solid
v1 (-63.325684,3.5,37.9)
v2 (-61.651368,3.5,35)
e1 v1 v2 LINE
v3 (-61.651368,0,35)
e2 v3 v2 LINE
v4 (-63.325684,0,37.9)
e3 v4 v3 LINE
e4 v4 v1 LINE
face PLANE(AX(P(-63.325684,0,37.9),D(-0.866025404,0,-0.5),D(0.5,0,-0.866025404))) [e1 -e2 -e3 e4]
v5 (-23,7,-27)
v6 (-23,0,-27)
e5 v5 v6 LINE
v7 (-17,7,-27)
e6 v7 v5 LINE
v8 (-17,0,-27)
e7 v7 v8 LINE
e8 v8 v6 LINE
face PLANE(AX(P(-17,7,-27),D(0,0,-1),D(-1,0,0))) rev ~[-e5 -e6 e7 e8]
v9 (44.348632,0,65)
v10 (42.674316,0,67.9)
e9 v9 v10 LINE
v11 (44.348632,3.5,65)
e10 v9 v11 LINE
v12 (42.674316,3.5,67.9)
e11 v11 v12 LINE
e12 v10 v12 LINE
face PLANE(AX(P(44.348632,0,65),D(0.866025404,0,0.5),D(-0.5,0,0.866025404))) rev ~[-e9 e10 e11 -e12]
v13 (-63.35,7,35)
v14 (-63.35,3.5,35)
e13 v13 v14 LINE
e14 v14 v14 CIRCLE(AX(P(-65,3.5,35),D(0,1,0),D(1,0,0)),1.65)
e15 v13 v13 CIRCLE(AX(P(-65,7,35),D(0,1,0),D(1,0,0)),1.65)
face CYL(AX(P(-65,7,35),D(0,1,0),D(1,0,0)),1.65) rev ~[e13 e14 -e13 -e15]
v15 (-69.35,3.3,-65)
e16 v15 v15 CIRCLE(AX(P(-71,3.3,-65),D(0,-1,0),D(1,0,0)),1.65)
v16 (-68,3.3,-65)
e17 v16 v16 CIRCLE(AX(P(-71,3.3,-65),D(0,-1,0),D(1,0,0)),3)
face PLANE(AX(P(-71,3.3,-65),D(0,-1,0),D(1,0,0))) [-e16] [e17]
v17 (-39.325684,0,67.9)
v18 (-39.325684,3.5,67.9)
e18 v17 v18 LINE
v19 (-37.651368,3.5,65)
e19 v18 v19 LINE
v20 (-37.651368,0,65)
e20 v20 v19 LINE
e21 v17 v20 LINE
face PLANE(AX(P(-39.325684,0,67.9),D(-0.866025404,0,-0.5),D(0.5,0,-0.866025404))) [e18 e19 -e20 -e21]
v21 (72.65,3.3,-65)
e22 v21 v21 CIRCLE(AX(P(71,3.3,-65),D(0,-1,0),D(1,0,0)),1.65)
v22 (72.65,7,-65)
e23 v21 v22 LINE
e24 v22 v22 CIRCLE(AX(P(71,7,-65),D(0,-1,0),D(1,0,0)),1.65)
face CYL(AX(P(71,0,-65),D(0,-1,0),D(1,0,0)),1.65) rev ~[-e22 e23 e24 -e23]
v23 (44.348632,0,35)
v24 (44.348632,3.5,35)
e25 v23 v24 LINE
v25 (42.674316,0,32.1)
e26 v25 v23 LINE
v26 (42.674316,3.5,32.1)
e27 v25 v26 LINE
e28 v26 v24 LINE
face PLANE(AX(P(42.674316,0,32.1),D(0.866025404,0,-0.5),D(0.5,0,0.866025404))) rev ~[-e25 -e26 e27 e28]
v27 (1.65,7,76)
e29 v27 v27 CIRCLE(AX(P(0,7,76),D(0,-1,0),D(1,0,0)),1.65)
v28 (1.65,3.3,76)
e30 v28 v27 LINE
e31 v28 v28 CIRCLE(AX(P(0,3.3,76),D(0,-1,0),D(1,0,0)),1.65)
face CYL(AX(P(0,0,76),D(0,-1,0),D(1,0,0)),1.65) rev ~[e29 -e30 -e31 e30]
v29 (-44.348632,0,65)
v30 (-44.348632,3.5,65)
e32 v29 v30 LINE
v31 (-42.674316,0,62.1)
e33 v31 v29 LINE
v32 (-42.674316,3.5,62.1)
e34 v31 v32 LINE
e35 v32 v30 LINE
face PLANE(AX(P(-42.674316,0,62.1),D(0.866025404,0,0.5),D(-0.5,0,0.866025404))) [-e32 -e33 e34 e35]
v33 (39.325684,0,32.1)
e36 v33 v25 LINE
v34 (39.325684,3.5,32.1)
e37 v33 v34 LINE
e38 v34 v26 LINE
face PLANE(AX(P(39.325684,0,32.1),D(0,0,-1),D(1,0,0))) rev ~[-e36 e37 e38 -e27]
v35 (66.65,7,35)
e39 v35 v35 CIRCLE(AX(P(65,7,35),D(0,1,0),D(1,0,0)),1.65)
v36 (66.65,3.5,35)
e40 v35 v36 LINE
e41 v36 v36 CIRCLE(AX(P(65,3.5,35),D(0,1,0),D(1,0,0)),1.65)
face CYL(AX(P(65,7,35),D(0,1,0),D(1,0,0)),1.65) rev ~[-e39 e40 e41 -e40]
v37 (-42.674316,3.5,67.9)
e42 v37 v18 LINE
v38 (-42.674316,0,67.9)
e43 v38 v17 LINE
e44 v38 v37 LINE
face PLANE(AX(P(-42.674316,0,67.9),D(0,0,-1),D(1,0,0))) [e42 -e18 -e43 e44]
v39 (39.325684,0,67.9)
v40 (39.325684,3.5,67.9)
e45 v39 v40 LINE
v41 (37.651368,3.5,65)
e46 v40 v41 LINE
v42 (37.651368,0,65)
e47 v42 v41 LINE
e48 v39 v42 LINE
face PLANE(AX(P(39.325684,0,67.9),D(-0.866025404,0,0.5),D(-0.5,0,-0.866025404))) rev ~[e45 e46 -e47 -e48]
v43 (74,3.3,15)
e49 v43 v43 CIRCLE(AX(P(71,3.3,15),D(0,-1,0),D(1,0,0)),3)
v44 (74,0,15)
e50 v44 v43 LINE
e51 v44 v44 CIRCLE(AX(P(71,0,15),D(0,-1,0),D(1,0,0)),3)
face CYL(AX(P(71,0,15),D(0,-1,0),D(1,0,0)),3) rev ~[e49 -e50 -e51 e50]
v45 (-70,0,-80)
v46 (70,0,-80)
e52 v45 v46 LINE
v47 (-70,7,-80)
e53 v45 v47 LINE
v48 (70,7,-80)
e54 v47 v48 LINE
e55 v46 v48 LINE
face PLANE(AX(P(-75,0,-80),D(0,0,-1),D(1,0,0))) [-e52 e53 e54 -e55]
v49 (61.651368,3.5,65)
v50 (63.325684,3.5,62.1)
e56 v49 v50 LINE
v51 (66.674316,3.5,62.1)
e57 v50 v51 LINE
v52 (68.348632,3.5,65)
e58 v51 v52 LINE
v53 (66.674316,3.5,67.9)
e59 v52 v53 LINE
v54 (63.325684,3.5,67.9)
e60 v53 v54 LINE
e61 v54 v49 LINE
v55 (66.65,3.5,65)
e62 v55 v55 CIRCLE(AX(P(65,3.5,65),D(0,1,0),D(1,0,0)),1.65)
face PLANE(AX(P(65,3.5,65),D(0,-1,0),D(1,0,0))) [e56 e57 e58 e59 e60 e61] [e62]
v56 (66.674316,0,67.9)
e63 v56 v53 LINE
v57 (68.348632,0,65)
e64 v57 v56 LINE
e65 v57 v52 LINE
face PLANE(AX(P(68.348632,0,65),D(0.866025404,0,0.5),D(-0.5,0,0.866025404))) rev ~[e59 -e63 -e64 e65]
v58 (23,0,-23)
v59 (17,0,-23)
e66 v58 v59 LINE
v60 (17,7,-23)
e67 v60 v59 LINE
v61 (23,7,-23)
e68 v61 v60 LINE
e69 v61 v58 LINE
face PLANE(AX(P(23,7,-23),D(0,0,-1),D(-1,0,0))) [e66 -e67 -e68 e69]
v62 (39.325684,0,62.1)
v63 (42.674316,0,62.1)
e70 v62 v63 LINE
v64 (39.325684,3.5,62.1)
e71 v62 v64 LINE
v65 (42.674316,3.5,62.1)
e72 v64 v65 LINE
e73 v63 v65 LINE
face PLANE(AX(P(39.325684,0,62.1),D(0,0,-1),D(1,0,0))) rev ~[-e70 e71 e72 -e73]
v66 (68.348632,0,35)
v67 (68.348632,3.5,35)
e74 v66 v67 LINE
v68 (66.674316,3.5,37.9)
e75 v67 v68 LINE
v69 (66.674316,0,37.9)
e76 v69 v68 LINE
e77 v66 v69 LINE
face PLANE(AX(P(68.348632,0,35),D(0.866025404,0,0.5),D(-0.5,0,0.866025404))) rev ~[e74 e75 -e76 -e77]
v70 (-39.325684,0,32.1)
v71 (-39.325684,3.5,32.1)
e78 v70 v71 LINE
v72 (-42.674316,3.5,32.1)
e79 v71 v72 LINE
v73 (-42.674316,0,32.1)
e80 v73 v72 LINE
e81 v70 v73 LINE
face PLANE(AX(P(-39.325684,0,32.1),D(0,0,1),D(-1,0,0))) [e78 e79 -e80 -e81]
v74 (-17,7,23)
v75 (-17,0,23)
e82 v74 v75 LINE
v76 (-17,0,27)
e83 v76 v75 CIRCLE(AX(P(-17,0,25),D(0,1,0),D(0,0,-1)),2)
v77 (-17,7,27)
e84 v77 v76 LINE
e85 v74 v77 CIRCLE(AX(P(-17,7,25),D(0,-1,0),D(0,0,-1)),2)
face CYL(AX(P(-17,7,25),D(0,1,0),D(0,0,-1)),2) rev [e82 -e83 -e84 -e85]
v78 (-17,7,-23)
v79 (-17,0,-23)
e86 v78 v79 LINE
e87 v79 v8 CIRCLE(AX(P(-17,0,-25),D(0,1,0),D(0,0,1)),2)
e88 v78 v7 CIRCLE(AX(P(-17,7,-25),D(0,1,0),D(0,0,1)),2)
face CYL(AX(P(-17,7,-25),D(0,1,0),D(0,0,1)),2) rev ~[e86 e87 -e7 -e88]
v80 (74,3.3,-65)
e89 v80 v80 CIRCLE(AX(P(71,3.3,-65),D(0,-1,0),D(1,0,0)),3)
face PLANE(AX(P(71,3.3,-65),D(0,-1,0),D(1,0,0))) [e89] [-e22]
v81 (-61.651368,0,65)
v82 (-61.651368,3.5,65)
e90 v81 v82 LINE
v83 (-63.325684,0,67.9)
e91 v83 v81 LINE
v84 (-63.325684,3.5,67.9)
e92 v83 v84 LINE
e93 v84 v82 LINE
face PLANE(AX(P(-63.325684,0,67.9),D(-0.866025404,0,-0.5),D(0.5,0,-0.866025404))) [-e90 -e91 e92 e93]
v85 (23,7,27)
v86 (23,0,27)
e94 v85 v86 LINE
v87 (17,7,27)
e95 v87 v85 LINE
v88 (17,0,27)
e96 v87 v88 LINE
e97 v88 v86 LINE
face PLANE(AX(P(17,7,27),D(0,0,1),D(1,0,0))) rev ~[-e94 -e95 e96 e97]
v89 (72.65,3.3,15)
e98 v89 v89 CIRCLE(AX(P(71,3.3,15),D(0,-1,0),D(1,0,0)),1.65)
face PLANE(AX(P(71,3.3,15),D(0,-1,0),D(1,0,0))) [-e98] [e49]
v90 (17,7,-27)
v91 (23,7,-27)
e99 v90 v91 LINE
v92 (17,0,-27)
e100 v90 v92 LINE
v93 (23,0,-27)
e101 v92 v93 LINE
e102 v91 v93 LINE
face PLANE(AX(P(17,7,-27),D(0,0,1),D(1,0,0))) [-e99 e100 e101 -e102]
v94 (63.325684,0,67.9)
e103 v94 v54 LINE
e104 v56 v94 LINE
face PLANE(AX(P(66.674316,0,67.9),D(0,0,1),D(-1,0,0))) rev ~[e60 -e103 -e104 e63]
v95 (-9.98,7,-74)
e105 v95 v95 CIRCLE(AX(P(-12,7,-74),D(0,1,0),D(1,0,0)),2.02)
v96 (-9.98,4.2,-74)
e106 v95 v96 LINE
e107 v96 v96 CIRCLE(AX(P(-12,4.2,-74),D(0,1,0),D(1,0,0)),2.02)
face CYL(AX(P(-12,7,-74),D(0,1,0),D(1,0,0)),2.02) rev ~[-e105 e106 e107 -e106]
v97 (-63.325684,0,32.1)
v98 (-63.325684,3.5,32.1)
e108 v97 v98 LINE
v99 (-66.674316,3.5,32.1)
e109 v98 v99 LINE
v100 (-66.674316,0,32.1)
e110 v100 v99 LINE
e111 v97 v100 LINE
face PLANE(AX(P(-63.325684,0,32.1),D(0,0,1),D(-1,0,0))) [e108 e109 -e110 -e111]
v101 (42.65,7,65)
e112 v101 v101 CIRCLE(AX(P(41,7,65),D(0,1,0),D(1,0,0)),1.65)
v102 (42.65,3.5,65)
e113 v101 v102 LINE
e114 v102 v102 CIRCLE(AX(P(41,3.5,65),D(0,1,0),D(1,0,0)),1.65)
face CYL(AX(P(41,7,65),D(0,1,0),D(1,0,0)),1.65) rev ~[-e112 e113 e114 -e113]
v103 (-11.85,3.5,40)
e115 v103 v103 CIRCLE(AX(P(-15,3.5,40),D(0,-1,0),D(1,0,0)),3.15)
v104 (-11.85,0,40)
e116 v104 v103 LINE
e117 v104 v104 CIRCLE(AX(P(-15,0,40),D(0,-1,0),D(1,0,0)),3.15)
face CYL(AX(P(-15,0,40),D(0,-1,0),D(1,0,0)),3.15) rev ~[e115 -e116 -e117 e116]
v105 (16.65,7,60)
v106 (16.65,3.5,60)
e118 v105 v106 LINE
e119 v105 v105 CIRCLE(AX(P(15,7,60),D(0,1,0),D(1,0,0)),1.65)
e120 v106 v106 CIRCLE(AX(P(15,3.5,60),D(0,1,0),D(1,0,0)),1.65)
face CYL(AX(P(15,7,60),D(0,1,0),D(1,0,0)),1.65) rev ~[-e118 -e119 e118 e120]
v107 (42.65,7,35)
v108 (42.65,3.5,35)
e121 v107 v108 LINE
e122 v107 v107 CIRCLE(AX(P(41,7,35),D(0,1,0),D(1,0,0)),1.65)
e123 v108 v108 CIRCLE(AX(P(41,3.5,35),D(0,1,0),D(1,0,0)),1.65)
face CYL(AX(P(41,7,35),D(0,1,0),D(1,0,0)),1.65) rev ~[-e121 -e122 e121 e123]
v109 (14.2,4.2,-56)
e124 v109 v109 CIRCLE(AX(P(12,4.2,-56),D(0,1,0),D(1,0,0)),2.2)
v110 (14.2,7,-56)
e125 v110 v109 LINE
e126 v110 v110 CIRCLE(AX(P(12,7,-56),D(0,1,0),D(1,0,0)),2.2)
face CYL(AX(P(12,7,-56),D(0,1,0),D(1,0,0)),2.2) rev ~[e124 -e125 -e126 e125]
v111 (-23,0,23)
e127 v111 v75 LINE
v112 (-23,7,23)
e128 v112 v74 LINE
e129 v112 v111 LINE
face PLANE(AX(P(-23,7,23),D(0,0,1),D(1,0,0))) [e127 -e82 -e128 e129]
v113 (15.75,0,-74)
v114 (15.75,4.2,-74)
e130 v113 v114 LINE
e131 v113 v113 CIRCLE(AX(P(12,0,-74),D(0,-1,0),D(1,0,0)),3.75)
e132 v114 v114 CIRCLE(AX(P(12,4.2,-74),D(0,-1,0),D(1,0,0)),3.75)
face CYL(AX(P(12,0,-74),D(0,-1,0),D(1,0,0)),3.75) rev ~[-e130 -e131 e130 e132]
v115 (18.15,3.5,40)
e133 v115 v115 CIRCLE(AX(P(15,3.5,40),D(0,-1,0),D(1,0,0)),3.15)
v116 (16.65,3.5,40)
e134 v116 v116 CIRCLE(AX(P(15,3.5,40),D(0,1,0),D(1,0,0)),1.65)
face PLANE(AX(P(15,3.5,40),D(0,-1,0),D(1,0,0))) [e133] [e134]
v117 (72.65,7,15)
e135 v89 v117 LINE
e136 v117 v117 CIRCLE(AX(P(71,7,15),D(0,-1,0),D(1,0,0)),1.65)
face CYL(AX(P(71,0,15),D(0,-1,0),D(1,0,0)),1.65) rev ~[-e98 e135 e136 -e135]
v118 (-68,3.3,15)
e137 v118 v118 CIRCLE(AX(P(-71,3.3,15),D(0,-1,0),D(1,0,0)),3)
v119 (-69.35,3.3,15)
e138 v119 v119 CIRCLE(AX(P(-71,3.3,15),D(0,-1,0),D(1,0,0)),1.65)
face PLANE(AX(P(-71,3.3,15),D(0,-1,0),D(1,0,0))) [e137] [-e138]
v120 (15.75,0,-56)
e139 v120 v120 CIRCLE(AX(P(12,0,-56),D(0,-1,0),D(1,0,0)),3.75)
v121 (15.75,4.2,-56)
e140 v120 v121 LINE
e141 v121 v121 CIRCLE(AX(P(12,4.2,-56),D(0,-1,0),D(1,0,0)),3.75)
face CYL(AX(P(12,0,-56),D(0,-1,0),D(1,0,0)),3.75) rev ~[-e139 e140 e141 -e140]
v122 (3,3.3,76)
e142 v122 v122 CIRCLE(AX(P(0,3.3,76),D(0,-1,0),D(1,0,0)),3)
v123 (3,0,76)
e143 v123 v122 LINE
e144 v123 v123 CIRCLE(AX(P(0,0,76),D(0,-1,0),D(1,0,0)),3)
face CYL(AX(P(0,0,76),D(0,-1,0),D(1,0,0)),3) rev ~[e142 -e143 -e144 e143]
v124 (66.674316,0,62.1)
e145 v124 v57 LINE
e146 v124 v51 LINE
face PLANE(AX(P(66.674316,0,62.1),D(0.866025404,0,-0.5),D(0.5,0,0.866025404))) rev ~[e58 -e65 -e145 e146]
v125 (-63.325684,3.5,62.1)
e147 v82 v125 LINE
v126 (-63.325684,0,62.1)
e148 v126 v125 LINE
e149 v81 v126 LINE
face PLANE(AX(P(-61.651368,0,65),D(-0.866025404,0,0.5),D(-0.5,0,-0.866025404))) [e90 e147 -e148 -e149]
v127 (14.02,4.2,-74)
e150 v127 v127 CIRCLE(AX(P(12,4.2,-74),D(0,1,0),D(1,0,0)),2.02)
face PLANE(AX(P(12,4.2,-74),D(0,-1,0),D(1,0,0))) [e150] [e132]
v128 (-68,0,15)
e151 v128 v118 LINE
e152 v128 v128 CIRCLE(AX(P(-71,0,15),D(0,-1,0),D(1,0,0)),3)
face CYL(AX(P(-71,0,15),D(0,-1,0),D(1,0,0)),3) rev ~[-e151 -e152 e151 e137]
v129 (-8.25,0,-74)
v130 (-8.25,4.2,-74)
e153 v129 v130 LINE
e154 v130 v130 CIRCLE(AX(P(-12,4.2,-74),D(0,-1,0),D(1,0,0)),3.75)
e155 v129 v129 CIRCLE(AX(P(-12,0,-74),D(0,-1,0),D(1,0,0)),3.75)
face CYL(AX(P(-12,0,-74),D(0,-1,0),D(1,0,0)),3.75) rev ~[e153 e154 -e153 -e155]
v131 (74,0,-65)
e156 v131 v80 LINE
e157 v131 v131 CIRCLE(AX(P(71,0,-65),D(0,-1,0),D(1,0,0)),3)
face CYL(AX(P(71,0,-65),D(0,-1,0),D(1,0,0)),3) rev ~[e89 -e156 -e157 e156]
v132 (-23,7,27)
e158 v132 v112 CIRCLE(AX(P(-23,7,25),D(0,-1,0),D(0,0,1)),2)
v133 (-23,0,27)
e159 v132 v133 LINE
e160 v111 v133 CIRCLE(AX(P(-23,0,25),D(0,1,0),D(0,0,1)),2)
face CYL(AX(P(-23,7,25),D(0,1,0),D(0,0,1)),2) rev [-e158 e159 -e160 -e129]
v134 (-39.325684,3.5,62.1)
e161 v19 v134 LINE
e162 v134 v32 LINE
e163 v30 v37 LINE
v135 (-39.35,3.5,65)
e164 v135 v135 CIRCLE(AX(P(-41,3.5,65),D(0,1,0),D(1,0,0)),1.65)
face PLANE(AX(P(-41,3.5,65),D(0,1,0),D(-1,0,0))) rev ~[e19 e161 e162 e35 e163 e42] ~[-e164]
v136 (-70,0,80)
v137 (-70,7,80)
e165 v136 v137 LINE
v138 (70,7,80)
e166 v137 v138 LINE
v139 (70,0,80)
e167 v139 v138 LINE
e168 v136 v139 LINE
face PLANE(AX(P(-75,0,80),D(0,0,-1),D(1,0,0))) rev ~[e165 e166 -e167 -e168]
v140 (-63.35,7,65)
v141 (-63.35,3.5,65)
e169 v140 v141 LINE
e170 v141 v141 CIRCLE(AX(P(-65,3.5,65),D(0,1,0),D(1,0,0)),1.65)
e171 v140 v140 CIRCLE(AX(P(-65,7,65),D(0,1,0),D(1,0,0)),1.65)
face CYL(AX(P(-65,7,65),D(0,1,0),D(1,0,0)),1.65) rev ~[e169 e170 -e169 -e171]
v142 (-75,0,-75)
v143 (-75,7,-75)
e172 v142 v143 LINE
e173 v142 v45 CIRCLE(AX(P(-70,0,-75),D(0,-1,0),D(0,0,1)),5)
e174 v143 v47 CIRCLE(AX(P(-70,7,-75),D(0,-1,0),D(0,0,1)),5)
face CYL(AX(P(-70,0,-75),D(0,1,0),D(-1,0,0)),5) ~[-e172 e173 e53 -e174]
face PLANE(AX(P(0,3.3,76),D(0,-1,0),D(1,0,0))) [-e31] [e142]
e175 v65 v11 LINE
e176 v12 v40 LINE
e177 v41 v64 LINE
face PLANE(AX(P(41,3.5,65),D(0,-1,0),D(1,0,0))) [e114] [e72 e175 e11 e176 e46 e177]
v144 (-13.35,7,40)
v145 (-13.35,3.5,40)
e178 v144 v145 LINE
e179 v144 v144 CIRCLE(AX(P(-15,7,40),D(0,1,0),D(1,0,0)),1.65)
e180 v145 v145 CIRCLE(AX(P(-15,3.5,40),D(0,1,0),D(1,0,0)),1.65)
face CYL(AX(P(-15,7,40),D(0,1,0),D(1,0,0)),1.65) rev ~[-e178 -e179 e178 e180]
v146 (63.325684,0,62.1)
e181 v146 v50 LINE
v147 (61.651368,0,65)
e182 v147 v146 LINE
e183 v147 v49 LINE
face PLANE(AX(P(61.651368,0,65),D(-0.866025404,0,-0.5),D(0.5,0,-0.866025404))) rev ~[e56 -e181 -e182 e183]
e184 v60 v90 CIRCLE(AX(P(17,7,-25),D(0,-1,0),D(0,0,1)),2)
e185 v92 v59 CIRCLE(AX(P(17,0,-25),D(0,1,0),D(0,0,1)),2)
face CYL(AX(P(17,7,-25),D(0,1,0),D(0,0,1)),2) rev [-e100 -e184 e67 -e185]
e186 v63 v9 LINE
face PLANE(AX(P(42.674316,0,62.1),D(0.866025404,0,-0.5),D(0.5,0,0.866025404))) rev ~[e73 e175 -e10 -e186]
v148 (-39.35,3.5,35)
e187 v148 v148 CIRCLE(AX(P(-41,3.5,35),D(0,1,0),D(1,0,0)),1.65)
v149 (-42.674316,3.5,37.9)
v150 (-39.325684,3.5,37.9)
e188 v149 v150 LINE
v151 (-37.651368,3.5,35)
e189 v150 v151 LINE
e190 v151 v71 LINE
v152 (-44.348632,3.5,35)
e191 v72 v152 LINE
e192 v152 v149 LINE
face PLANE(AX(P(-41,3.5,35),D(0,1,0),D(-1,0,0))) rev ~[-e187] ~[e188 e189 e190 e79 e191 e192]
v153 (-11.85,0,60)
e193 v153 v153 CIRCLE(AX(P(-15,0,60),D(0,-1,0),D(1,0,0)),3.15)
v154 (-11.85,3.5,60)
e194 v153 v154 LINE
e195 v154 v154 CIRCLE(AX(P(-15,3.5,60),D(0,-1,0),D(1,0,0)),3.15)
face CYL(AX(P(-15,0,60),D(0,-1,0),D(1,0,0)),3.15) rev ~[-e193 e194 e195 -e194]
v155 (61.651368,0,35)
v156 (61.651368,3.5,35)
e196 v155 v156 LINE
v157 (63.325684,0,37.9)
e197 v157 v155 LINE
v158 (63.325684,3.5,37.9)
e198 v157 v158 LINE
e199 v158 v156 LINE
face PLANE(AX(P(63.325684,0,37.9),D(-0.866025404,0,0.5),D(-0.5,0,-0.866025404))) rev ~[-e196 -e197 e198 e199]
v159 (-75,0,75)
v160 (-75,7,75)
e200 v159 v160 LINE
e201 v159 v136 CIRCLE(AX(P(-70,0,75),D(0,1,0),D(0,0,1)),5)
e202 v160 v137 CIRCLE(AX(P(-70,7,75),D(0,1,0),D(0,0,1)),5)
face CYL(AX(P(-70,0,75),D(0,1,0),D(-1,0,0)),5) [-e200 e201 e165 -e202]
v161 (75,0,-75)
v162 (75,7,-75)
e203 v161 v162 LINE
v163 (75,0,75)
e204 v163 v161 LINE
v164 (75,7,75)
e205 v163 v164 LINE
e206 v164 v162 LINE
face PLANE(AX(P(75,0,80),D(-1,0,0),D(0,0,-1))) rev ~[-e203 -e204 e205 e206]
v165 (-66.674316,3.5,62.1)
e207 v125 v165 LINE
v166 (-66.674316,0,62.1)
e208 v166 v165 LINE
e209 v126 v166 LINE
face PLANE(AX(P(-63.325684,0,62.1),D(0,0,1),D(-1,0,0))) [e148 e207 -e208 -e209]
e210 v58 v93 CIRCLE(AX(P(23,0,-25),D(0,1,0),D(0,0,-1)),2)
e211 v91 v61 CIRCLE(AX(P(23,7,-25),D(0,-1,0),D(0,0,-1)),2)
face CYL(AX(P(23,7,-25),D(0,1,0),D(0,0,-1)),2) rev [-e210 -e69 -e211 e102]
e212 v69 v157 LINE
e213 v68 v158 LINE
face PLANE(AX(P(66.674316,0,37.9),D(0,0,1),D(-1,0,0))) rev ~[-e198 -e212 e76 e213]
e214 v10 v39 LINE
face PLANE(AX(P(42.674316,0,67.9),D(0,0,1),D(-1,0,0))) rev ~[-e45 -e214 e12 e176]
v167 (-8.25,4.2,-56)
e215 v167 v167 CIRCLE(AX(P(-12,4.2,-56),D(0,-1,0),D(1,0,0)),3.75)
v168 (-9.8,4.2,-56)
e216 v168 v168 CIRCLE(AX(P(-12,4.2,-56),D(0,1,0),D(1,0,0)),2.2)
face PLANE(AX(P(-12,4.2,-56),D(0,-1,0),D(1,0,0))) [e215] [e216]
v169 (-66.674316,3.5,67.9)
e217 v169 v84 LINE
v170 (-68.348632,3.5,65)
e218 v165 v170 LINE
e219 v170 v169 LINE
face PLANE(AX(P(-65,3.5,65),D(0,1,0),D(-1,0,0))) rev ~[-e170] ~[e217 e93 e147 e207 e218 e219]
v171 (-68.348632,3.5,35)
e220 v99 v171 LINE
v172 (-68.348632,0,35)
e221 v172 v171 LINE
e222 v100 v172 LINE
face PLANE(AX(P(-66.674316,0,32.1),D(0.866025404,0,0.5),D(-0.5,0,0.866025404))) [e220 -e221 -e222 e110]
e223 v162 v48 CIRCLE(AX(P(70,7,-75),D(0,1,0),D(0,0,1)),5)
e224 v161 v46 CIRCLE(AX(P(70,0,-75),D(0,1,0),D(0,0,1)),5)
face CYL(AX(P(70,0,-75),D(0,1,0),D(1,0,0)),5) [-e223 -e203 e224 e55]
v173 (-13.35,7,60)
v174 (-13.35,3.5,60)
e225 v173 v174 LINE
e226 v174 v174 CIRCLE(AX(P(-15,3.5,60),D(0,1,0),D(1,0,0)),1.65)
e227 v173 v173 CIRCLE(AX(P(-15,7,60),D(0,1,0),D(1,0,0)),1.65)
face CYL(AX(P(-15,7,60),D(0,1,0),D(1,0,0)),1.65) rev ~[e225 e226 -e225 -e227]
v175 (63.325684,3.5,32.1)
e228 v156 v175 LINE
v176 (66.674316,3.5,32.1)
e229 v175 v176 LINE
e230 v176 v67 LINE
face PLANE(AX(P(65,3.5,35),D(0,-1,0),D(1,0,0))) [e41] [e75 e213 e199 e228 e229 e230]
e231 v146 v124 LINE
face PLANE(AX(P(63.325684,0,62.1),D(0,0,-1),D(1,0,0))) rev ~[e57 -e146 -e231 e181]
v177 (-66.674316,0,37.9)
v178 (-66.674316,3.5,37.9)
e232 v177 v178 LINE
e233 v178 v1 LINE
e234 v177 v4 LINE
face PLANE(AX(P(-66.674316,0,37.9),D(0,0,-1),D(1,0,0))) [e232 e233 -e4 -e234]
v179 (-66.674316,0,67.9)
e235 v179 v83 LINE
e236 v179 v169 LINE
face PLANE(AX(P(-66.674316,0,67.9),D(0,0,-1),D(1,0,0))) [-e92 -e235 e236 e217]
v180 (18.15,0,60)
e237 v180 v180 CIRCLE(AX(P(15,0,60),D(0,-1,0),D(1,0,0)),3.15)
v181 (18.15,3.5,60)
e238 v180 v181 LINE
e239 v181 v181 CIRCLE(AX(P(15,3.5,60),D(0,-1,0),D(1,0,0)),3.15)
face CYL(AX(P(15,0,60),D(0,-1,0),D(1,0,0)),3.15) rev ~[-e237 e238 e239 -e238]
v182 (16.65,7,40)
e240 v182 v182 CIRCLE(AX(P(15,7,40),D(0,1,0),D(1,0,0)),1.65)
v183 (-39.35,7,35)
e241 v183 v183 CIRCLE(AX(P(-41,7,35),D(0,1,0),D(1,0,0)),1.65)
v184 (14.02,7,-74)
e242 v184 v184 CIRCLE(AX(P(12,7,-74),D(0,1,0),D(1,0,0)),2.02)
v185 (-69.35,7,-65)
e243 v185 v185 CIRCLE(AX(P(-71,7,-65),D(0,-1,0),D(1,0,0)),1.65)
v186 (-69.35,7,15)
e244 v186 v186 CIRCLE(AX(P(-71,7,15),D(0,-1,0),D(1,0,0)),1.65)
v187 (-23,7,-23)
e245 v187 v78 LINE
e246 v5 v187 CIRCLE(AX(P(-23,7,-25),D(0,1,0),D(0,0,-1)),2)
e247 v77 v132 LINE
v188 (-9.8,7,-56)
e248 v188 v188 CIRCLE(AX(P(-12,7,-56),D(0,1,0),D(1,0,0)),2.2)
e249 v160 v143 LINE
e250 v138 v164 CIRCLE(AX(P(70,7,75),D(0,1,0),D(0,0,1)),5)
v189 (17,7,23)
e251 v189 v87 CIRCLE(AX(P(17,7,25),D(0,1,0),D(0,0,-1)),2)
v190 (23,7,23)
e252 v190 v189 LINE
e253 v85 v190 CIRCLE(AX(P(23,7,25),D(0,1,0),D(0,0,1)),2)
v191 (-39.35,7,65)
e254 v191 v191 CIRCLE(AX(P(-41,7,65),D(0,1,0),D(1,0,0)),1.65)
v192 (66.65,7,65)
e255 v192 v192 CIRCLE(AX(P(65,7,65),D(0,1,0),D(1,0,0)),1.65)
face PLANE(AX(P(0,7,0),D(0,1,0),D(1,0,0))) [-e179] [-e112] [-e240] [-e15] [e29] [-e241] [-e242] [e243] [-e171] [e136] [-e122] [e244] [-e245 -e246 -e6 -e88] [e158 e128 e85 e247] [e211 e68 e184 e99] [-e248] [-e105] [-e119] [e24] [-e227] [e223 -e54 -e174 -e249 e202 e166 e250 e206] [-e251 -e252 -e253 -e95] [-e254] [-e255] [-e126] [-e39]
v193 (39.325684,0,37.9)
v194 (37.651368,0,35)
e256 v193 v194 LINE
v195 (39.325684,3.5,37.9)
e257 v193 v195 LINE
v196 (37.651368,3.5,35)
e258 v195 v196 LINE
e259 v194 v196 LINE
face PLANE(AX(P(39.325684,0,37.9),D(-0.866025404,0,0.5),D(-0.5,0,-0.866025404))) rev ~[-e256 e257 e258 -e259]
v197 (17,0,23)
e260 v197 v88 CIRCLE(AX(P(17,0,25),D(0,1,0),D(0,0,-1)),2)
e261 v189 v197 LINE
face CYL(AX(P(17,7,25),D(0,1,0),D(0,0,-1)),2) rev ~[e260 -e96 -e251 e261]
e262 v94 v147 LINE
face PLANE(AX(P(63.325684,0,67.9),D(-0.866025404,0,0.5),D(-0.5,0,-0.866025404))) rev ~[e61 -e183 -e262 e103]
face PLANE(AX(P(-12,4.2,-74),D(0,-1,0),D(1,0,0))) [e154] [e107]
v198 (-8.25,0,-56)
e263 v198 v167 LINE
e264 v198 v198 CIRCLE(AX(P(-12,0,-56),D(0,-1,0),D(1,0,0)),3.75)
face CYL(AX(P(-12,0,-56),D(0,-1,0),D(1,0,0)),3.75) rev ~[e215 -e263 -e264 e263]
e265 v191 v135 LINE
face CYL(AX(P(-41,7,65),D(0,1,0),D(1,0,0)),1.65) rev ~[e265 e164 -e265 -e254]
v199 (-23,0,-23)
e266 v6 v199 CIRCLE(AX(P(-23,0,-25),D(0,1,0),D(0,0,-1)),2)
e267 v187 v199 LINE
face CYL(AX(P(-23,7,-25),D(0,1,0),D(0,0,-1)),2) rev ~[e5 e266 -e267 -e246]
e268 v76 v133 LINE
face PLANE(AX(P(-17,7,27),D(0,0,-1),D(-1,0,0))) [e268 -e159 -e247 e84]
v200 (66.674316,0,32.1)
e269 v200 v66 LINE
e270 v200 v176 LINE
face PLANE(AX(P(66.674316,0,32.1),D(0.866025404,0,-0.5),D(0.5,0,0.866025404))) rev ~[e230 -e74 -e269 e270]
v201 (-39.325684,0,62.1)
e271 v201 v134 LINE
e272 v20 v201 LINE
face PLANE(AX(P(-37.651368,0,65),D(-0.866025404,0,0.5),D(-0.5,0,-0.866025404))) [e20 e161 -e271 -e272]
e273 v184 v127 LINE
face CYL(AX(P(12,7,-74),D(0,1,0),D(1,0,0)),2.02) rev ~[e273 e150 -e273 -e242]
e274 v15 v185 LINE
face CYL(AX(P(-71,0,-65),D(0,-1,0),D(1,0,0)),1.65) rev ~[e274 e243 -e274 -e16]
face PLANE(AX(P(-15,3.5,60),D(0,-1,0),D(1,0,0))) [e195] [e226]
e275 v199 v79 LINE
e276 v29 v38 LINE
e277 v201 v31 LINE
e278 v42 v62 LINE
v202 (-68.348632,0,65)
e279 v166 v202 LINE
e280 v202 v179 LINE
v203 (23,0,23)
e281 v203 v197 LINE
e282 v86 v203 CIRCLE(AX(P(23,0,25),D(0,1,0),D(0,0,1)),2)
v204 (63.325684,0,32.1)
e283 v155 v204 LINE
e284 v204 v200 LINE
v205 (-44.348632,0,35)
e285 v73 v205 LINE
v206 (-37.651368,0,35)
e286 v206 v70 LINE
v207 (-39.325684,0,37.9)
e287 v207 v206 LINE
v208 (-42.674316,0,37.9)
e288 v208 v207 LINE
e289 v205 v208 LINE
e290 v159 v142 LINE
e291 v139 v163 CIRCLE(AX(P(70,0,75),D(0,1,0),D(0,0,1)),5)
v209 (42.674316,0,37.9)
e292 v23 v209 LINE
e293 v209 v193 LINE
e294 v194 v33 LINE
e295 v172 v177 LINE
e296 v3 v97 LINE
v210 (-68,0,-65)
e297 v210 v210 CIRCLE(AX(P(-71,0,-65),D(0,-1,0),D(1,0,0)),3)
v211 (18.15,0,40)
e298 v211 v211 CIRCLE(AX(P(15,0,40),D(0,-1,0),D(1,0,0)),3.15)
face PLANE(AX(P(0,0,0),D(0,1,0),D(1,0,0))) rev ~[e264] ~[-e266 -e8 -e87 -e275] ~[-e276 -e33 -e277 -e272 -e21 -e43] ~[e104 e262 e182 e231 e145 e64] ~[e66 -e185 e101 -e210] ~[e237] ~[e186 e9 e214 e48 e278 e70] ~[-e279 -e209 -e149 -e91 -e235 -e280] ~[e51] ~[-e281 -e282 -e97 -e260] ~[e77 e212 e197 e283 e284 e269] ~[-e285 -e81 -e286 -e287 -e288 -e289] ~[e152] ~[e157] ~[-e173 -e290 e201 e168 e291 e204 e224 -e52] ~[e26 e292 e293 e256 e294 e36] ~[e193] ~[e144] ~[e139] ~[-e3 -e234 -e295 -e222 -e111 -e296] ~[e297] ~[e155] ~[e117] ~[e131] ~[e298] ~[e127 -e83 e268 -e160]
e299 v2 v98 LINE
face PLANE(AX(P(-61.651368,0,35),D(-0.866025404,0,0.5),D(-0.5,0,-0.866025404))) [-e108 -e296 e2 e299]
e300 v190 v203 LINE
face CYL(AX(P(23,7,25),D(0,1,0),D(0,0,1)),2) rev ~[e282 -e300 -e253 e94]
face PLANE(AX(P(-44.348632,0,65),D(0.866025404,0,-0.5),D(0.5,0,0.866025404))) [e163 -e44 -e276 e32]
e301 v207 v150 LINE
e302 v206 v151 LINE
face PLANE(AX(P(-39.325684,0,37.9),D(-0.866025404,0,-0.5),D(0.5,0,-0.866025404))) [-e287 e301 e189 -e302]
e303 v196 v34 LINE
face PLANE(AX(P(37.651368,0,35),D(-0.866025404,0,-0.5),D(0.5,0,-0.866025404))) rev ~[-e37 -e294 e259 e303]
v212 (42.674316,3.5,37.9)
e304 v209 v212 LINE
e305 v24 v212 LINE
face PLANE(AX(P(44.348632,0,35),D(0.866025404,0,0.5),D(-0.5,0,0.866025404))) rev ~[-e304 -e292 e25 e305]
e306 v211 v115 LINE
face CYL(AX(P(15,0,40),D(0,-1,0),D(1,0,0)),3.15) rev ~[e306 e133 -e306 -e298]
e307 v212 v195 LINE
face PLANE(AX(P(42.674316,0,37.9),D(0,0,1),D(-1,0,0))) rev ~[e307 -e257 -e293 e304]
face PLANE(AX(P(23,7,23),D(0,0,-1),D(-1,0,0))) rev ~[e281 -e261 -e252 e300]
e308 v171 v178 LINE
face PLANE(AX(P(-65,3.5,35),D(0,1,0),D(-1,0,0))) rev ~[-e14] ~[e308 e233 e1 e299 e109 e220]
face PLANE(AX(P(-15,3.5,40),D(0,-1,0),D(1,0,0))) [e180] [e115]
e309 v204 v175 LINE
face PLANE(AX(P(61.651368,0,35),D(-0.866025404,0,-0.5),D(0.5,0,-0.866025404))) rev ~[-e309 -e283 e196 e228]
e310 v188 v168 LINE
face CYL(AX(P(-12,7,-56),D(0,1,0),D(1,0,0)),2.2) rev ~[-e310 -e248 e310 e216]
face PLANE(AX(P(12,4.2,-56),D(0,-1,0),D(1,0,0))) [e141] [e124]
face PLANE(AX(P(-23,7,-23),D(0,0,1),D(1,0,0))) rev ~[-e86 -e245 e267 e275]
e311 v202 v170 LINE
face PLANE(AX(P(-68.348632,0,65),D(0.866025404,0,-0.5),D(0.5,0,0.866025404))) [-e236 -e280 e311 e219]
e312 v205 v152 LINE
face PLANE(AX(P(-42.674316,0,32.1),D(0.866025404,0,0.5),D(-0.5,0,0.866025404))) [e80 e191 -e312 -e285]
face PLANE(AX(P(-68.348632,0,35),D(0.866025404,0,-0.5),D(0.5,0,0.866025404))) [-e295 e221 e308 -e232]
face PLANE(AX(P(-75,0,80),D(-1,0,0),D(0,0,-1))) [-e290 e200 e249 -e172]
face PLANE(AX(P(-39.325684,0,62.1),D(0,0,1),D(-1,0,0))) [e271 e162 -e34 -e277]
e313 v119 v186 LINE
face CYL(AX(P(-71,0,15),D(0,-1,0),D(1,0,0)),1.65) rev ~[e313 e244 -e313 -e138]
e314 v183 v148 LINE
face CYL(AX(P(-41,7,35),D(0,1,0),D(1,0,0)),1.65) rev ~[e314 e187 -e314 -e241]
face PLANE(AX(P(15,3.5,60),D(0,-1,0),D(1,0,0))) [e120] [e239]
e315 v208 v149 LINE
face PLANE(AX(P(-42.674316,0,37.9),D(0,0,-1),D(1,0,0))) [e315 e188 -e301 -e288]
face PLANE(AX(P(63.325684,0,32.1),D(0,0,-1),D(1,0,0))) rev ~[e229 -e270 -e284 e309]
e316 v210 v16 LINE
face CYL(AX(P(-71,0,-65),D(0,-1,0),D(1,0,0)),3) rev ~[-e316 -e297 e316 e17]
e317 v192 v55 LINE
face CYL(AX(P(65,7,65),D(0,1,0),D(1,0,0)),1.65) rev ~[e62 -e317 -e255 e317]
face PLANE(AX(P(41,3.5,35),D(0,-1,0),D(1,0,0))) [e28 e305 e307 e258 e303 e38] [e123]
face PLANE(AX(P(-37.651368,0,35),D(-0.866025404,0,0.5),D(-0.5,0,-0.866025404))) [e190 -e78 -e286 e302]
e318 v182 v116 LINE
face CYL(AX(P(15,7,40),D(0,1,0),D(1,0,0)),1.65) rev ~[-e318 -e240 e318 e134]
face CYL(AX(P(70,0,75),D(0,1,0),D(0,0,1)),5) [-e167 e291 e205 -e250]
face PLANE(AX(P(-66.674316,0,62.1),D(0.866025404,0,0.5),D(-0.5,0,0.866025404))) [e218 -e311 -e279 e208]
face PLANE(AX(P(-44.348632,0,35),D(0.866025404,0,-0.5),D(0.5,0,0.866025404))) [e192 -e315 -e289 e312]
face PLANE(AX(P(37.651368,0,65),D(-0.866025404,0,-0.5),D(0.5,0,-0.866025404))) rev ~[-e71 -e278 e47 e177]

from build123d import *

# Parameters (mm, degrees)
SKETCH_2_W           = 150
SKETCH_2_H           = 160
EXTRUDE_1_DEPTH      = 7
FILLET_1_R           = 5
SKETCH_3_R           = 1.65
CUT_EXTRUDE_1_DEPTH  = 8
SKETCH_6_R           = 2.02
SKETCH_6_R_2         = 2.2
CUT_EXTRUDE_2_DEPTH  = 8
SKETCH_9_R           = 3.15
CUT_EXTRUDE_4_DEPTH  = 3.5
SKETCH_10_R          = 3.75
CUT_EXTRUDE_5_DEPTH  = 4.2
CUT_EXTRUDE_6_DEPTH  = 8
SKETCH_12_R          = 1.65
CUT_EXTRUDE_7_DEPTH  = 50
SKETCH_14_R          = 3
CUT_EXTRUDE_9_DEPTH  = 3.3
SKETCH_15_R          = 1.65
CUT_EXTRUDE_10_DEPTH = 8
SKETCH_16_R          = 3
CUT_EXTRUDE_11_DEPTH = 3.3


with BuildPart() as part:
    # 草图2 → 凸台-拉伸1 (new body)
    with BuildSketch(Plane(origin=(0, 0, 0), x_dir=(1, 0, 0), z_dir=(0, 1, 0))):
        Rectangle(SKETCH_2_W, SKETCH_2_H)
    extrude(amount=EXTRUDE_1_DEPTH)

    # 圆角1
    fillet_1_edges = [part.edges().sort_by_distance(p)[0] for p in [
        (75, 3.5, 80),
        (-75, 3.5, 80),
        (-75, 3.5, -80),
        (75, 3.5, -80),
    ]]
    fillet(fillet_1_edges, radius=FILLET_1_R)

    # 草图3 → 切除-拉伸1 (cut, through all)
    with BuildSketch(Plane(origin=(0, 7, 0), x_dir=(1, 0, 0), z_dir=(0, 1, 0))):
        with Locations((-65, -35)):
            Circle(SKETCH_3_R)
        with Locations((-41, -35)):
            Circle(SKETCH_3_R)
        with Locations((-41, -65)):
            Circle(SKETCH_3_R)
        with Locations((-65, -65)):
            Circle(SKETCH_3_R)
        with Locations((65, -65)):
            Circle(SKETCH_3_R)
        with Locations((41, -65)):
            Circle(SKETCH_3_R)
        with Locations((41, -35)):
            Circle(SKETCH_3_R)
        with Locations((65, -35)):
            Circle(SKETCH_3_R)
        with Locations((-15, -40)):
            Circle(SKETCH_3_R)
        with Locations((-15, -60)):
            Circle(SKETCH_3_R)
        with Locations((15, -60)):
            Circle(SKETCH_3_R)
        with Locations((15, -40)):
            Circle(SKETCH_3_R)
    extrude(amount=-CUT_EXTRUDE_1_DEPTH, mode=Mode.SUBTRACT)

    # 草图6 → 切除-拉伸2 (cut, through all)
    with BuildSketch(Plane(origin=(0, 7, 0), x_dir=(1, 0, 0), z_dir=(0, 1, 0))):
        with Locations((12, 74)):
            Circle(SKETCH_6_R)
        with Locations((12, 56)):
            Circle(SKETCH_6_R_2)
        with Locations((-12, 56)):
            Circle(SKETCH_6_R_2)
        with Locations((-12, 74)):
            Circle(SKETCH_6_R)
    extrude(amount=-CUT_EXTRUDE_2_DEPTH, mode=Mode.SUBTRACT)

    # 草图9 → 切除-拉伸4 (cut)
    with BuildSketch(Plane.XZ):
        with Locations((-15, 60)):
            Circle(SKETCH_9_R)
        with Locations((-15, 40)):
            Circle(SKETCH_9_R)
        with Locations((15, 60)):
            Circle(SKETCH_9_R)
        with Locations((15, 40)):
            Circle(SKETCH_9_R)
        Polygon((-39.325684219, 67.9), (-37.651368439, 65), (-39.325684219, 62.1), (-42.674315781, 62.1), (-44.348631561, 65), (-42.674315781, 67.9), align=None)
        Polygon((61.651368439, 35), (63.325684219, 32.1), (66.674315781, 32.1), (68.348631561, 35), (66.674315781, 37.9), (63.325684219, 37.9), align=None)
        Polygon((37.651368439, 35), (39.325684219, 32.1), (42.674315781, 32.1), (44.348631561, 35), (42.674315781, 37.9), (39.325684219, 37.9), align=None)
        Polygon((61.651368439, 65), (63.325684219, 62.1), (66.674315781, 62.1), (68.348631561, 65), (66.674315781, 67.9), (63.325684219, 67.9), align=None)
        Polygon((37.651368439, 65), (39.325684219, 62.1), (42.674315781, 62.1), (44.348631561, 65), (42.674315781, 67.9), (39.325684219, 67.9), align=None)
        Polygon((-63.325684219, 67.9), (-61.651368439, 65), (-63.325684219, 62.1), (-66.674315781, 62.1), (-68.348631561, 65), (-66.674315781, 67.9), align=None)
        Polygon((-39.325684219, 37.9), (-37.651368439, 35), (-39.325684219, 32.1), (-42.674315781, 32.1), (-44.348631561, 35), (-42.674315781, 37.9), align=None)
        Polygon((-63.325684219, 37.9), (-61.651368439, 35), (-63.325684219, 32.1), (-66.674315781, 32.1), (-68.348631561, 35), (-66.674315781, 37.9), align=None)
    extrude(amount=-CUT_EXTRUDE_4_DEPTH, mode=Mode.SUBTRACT)

    # 草图10 → 切除-拉伸5 (cut)
    with BuildSketch(Plane.XZ):
        with Locations((12, -74)):
            Circle(SKETCH_10_R)
        with Locations((12, -56)):
            Circle(SKETCH_10_R)
        with Locations((-12, -56)):
            Circle(SKETCH_10_R)
        with Locations((-12, -74)):
            Circle(SKETCH_10_R)
    extrude(amount=-CUT_EXTRUDE_5_DEPTH, mode=Mode.SUBTRACT)

    # 草图11 → 切除-拉伸6 (cut, through all)
    with BuildSketch(Plane(origin=(0, 7, 0), x_dir=(1, 0, 0), z_dir=(0, 1, 0))):
        with BuildLine():
            Line((17, 27), (23, 27))
            ThreePointArc((23, 27), (25, 25), (23, 23))
            Line((23, 23), (17, 23))
            ThreePointArc((17, 23), (15, 25), (17, 27))
        make_face()
        with BuildLine():
            Line((-17, 27), (-23, 27))
            ThreePointArc((-23, 27), (-25, 25), (-23, 23))
            Line((-23, 23), (-17, 23))
            ThreePointArc((-17, 23), (-15, 25), (-17, 27))
        make_face()
        with BuildLine():
            Line((17, -27), (23, -27))
            ThreePointArc((23, -27), (25, -25), (23, -23))
            Line((23, -23), (17, -23))
            ThreePointArc((17, -23), (15, -25), (17, -27))
        make_face()
        with BuildLine():
            Line((-17, -27), (-23, -27))
            ThreePointArc((-23, -27), (-25, -25), (-23, -23))
            Line((-23, -23), (-17, -23))
            ThreePointArc((-17, -23), (-15, -25), (-17, -27))
        make_face()
    extrude(amount=-CUT_EXTRUDE_6_DEPTH, mode=Mode.SUBTRACT)

    # 草图12 → 切除-拉伸7 (cut)
    with BuildSketch(Plane.XZ):
        with Locations((-71, -65)):
            Circle(SKETCH_12_R)
        with Locations((-71, 15)):
            Circle(SKETCH_12_R)
        with Locations((71, 15)):
            Circle(SKETCH_12_R)
        with Locations((71, -65)):
            Circle(SKETCH_12_R)
    extrude(amount=-CUT_EXTRUDE_7_DEPTH, mode=Mode.SUBTRACT)

    # 草图14 → 切除-拉伸9 (cut)
    with BuildSketch(Plane.XZ):
        with Locations((-71, -65)):
            Circle(SKETCH_14_R)
        with Locations((-71, 15)):
            Circle(SKETCH_14_R)
        with Locations((71, -65)):
            Circle(SKETCH_14_R)
        with Locations((71, 15)):
            Circle(SKETCH_14_R)
    extrude(amount=-CUT_EXTRUDE_9_DEPTH, mode=Mode.SUBTRACT)

    # 草图15 → 切除-拉伸10 (cut, through all)
    with BuildSketch(Plane.XZ):
        with Locations((0, 76)):
            Circle(SKETCH_15_R)
    extrude(amount=-CUT_EXTRUDE_10_DEPTH, mode=Mode.SUBTRACT)

    # 草图16 → 切除-拉伸11 (cut)
    with BuildSketch(Plane.XZ):
        with Locations((0, 76)):
            Circle(SKETCH_16_R)
    extrude(amount=-CUT_EXTRUDE_11_DEPTH, mode=Mode.SUBTRACT)


solid = part.part
